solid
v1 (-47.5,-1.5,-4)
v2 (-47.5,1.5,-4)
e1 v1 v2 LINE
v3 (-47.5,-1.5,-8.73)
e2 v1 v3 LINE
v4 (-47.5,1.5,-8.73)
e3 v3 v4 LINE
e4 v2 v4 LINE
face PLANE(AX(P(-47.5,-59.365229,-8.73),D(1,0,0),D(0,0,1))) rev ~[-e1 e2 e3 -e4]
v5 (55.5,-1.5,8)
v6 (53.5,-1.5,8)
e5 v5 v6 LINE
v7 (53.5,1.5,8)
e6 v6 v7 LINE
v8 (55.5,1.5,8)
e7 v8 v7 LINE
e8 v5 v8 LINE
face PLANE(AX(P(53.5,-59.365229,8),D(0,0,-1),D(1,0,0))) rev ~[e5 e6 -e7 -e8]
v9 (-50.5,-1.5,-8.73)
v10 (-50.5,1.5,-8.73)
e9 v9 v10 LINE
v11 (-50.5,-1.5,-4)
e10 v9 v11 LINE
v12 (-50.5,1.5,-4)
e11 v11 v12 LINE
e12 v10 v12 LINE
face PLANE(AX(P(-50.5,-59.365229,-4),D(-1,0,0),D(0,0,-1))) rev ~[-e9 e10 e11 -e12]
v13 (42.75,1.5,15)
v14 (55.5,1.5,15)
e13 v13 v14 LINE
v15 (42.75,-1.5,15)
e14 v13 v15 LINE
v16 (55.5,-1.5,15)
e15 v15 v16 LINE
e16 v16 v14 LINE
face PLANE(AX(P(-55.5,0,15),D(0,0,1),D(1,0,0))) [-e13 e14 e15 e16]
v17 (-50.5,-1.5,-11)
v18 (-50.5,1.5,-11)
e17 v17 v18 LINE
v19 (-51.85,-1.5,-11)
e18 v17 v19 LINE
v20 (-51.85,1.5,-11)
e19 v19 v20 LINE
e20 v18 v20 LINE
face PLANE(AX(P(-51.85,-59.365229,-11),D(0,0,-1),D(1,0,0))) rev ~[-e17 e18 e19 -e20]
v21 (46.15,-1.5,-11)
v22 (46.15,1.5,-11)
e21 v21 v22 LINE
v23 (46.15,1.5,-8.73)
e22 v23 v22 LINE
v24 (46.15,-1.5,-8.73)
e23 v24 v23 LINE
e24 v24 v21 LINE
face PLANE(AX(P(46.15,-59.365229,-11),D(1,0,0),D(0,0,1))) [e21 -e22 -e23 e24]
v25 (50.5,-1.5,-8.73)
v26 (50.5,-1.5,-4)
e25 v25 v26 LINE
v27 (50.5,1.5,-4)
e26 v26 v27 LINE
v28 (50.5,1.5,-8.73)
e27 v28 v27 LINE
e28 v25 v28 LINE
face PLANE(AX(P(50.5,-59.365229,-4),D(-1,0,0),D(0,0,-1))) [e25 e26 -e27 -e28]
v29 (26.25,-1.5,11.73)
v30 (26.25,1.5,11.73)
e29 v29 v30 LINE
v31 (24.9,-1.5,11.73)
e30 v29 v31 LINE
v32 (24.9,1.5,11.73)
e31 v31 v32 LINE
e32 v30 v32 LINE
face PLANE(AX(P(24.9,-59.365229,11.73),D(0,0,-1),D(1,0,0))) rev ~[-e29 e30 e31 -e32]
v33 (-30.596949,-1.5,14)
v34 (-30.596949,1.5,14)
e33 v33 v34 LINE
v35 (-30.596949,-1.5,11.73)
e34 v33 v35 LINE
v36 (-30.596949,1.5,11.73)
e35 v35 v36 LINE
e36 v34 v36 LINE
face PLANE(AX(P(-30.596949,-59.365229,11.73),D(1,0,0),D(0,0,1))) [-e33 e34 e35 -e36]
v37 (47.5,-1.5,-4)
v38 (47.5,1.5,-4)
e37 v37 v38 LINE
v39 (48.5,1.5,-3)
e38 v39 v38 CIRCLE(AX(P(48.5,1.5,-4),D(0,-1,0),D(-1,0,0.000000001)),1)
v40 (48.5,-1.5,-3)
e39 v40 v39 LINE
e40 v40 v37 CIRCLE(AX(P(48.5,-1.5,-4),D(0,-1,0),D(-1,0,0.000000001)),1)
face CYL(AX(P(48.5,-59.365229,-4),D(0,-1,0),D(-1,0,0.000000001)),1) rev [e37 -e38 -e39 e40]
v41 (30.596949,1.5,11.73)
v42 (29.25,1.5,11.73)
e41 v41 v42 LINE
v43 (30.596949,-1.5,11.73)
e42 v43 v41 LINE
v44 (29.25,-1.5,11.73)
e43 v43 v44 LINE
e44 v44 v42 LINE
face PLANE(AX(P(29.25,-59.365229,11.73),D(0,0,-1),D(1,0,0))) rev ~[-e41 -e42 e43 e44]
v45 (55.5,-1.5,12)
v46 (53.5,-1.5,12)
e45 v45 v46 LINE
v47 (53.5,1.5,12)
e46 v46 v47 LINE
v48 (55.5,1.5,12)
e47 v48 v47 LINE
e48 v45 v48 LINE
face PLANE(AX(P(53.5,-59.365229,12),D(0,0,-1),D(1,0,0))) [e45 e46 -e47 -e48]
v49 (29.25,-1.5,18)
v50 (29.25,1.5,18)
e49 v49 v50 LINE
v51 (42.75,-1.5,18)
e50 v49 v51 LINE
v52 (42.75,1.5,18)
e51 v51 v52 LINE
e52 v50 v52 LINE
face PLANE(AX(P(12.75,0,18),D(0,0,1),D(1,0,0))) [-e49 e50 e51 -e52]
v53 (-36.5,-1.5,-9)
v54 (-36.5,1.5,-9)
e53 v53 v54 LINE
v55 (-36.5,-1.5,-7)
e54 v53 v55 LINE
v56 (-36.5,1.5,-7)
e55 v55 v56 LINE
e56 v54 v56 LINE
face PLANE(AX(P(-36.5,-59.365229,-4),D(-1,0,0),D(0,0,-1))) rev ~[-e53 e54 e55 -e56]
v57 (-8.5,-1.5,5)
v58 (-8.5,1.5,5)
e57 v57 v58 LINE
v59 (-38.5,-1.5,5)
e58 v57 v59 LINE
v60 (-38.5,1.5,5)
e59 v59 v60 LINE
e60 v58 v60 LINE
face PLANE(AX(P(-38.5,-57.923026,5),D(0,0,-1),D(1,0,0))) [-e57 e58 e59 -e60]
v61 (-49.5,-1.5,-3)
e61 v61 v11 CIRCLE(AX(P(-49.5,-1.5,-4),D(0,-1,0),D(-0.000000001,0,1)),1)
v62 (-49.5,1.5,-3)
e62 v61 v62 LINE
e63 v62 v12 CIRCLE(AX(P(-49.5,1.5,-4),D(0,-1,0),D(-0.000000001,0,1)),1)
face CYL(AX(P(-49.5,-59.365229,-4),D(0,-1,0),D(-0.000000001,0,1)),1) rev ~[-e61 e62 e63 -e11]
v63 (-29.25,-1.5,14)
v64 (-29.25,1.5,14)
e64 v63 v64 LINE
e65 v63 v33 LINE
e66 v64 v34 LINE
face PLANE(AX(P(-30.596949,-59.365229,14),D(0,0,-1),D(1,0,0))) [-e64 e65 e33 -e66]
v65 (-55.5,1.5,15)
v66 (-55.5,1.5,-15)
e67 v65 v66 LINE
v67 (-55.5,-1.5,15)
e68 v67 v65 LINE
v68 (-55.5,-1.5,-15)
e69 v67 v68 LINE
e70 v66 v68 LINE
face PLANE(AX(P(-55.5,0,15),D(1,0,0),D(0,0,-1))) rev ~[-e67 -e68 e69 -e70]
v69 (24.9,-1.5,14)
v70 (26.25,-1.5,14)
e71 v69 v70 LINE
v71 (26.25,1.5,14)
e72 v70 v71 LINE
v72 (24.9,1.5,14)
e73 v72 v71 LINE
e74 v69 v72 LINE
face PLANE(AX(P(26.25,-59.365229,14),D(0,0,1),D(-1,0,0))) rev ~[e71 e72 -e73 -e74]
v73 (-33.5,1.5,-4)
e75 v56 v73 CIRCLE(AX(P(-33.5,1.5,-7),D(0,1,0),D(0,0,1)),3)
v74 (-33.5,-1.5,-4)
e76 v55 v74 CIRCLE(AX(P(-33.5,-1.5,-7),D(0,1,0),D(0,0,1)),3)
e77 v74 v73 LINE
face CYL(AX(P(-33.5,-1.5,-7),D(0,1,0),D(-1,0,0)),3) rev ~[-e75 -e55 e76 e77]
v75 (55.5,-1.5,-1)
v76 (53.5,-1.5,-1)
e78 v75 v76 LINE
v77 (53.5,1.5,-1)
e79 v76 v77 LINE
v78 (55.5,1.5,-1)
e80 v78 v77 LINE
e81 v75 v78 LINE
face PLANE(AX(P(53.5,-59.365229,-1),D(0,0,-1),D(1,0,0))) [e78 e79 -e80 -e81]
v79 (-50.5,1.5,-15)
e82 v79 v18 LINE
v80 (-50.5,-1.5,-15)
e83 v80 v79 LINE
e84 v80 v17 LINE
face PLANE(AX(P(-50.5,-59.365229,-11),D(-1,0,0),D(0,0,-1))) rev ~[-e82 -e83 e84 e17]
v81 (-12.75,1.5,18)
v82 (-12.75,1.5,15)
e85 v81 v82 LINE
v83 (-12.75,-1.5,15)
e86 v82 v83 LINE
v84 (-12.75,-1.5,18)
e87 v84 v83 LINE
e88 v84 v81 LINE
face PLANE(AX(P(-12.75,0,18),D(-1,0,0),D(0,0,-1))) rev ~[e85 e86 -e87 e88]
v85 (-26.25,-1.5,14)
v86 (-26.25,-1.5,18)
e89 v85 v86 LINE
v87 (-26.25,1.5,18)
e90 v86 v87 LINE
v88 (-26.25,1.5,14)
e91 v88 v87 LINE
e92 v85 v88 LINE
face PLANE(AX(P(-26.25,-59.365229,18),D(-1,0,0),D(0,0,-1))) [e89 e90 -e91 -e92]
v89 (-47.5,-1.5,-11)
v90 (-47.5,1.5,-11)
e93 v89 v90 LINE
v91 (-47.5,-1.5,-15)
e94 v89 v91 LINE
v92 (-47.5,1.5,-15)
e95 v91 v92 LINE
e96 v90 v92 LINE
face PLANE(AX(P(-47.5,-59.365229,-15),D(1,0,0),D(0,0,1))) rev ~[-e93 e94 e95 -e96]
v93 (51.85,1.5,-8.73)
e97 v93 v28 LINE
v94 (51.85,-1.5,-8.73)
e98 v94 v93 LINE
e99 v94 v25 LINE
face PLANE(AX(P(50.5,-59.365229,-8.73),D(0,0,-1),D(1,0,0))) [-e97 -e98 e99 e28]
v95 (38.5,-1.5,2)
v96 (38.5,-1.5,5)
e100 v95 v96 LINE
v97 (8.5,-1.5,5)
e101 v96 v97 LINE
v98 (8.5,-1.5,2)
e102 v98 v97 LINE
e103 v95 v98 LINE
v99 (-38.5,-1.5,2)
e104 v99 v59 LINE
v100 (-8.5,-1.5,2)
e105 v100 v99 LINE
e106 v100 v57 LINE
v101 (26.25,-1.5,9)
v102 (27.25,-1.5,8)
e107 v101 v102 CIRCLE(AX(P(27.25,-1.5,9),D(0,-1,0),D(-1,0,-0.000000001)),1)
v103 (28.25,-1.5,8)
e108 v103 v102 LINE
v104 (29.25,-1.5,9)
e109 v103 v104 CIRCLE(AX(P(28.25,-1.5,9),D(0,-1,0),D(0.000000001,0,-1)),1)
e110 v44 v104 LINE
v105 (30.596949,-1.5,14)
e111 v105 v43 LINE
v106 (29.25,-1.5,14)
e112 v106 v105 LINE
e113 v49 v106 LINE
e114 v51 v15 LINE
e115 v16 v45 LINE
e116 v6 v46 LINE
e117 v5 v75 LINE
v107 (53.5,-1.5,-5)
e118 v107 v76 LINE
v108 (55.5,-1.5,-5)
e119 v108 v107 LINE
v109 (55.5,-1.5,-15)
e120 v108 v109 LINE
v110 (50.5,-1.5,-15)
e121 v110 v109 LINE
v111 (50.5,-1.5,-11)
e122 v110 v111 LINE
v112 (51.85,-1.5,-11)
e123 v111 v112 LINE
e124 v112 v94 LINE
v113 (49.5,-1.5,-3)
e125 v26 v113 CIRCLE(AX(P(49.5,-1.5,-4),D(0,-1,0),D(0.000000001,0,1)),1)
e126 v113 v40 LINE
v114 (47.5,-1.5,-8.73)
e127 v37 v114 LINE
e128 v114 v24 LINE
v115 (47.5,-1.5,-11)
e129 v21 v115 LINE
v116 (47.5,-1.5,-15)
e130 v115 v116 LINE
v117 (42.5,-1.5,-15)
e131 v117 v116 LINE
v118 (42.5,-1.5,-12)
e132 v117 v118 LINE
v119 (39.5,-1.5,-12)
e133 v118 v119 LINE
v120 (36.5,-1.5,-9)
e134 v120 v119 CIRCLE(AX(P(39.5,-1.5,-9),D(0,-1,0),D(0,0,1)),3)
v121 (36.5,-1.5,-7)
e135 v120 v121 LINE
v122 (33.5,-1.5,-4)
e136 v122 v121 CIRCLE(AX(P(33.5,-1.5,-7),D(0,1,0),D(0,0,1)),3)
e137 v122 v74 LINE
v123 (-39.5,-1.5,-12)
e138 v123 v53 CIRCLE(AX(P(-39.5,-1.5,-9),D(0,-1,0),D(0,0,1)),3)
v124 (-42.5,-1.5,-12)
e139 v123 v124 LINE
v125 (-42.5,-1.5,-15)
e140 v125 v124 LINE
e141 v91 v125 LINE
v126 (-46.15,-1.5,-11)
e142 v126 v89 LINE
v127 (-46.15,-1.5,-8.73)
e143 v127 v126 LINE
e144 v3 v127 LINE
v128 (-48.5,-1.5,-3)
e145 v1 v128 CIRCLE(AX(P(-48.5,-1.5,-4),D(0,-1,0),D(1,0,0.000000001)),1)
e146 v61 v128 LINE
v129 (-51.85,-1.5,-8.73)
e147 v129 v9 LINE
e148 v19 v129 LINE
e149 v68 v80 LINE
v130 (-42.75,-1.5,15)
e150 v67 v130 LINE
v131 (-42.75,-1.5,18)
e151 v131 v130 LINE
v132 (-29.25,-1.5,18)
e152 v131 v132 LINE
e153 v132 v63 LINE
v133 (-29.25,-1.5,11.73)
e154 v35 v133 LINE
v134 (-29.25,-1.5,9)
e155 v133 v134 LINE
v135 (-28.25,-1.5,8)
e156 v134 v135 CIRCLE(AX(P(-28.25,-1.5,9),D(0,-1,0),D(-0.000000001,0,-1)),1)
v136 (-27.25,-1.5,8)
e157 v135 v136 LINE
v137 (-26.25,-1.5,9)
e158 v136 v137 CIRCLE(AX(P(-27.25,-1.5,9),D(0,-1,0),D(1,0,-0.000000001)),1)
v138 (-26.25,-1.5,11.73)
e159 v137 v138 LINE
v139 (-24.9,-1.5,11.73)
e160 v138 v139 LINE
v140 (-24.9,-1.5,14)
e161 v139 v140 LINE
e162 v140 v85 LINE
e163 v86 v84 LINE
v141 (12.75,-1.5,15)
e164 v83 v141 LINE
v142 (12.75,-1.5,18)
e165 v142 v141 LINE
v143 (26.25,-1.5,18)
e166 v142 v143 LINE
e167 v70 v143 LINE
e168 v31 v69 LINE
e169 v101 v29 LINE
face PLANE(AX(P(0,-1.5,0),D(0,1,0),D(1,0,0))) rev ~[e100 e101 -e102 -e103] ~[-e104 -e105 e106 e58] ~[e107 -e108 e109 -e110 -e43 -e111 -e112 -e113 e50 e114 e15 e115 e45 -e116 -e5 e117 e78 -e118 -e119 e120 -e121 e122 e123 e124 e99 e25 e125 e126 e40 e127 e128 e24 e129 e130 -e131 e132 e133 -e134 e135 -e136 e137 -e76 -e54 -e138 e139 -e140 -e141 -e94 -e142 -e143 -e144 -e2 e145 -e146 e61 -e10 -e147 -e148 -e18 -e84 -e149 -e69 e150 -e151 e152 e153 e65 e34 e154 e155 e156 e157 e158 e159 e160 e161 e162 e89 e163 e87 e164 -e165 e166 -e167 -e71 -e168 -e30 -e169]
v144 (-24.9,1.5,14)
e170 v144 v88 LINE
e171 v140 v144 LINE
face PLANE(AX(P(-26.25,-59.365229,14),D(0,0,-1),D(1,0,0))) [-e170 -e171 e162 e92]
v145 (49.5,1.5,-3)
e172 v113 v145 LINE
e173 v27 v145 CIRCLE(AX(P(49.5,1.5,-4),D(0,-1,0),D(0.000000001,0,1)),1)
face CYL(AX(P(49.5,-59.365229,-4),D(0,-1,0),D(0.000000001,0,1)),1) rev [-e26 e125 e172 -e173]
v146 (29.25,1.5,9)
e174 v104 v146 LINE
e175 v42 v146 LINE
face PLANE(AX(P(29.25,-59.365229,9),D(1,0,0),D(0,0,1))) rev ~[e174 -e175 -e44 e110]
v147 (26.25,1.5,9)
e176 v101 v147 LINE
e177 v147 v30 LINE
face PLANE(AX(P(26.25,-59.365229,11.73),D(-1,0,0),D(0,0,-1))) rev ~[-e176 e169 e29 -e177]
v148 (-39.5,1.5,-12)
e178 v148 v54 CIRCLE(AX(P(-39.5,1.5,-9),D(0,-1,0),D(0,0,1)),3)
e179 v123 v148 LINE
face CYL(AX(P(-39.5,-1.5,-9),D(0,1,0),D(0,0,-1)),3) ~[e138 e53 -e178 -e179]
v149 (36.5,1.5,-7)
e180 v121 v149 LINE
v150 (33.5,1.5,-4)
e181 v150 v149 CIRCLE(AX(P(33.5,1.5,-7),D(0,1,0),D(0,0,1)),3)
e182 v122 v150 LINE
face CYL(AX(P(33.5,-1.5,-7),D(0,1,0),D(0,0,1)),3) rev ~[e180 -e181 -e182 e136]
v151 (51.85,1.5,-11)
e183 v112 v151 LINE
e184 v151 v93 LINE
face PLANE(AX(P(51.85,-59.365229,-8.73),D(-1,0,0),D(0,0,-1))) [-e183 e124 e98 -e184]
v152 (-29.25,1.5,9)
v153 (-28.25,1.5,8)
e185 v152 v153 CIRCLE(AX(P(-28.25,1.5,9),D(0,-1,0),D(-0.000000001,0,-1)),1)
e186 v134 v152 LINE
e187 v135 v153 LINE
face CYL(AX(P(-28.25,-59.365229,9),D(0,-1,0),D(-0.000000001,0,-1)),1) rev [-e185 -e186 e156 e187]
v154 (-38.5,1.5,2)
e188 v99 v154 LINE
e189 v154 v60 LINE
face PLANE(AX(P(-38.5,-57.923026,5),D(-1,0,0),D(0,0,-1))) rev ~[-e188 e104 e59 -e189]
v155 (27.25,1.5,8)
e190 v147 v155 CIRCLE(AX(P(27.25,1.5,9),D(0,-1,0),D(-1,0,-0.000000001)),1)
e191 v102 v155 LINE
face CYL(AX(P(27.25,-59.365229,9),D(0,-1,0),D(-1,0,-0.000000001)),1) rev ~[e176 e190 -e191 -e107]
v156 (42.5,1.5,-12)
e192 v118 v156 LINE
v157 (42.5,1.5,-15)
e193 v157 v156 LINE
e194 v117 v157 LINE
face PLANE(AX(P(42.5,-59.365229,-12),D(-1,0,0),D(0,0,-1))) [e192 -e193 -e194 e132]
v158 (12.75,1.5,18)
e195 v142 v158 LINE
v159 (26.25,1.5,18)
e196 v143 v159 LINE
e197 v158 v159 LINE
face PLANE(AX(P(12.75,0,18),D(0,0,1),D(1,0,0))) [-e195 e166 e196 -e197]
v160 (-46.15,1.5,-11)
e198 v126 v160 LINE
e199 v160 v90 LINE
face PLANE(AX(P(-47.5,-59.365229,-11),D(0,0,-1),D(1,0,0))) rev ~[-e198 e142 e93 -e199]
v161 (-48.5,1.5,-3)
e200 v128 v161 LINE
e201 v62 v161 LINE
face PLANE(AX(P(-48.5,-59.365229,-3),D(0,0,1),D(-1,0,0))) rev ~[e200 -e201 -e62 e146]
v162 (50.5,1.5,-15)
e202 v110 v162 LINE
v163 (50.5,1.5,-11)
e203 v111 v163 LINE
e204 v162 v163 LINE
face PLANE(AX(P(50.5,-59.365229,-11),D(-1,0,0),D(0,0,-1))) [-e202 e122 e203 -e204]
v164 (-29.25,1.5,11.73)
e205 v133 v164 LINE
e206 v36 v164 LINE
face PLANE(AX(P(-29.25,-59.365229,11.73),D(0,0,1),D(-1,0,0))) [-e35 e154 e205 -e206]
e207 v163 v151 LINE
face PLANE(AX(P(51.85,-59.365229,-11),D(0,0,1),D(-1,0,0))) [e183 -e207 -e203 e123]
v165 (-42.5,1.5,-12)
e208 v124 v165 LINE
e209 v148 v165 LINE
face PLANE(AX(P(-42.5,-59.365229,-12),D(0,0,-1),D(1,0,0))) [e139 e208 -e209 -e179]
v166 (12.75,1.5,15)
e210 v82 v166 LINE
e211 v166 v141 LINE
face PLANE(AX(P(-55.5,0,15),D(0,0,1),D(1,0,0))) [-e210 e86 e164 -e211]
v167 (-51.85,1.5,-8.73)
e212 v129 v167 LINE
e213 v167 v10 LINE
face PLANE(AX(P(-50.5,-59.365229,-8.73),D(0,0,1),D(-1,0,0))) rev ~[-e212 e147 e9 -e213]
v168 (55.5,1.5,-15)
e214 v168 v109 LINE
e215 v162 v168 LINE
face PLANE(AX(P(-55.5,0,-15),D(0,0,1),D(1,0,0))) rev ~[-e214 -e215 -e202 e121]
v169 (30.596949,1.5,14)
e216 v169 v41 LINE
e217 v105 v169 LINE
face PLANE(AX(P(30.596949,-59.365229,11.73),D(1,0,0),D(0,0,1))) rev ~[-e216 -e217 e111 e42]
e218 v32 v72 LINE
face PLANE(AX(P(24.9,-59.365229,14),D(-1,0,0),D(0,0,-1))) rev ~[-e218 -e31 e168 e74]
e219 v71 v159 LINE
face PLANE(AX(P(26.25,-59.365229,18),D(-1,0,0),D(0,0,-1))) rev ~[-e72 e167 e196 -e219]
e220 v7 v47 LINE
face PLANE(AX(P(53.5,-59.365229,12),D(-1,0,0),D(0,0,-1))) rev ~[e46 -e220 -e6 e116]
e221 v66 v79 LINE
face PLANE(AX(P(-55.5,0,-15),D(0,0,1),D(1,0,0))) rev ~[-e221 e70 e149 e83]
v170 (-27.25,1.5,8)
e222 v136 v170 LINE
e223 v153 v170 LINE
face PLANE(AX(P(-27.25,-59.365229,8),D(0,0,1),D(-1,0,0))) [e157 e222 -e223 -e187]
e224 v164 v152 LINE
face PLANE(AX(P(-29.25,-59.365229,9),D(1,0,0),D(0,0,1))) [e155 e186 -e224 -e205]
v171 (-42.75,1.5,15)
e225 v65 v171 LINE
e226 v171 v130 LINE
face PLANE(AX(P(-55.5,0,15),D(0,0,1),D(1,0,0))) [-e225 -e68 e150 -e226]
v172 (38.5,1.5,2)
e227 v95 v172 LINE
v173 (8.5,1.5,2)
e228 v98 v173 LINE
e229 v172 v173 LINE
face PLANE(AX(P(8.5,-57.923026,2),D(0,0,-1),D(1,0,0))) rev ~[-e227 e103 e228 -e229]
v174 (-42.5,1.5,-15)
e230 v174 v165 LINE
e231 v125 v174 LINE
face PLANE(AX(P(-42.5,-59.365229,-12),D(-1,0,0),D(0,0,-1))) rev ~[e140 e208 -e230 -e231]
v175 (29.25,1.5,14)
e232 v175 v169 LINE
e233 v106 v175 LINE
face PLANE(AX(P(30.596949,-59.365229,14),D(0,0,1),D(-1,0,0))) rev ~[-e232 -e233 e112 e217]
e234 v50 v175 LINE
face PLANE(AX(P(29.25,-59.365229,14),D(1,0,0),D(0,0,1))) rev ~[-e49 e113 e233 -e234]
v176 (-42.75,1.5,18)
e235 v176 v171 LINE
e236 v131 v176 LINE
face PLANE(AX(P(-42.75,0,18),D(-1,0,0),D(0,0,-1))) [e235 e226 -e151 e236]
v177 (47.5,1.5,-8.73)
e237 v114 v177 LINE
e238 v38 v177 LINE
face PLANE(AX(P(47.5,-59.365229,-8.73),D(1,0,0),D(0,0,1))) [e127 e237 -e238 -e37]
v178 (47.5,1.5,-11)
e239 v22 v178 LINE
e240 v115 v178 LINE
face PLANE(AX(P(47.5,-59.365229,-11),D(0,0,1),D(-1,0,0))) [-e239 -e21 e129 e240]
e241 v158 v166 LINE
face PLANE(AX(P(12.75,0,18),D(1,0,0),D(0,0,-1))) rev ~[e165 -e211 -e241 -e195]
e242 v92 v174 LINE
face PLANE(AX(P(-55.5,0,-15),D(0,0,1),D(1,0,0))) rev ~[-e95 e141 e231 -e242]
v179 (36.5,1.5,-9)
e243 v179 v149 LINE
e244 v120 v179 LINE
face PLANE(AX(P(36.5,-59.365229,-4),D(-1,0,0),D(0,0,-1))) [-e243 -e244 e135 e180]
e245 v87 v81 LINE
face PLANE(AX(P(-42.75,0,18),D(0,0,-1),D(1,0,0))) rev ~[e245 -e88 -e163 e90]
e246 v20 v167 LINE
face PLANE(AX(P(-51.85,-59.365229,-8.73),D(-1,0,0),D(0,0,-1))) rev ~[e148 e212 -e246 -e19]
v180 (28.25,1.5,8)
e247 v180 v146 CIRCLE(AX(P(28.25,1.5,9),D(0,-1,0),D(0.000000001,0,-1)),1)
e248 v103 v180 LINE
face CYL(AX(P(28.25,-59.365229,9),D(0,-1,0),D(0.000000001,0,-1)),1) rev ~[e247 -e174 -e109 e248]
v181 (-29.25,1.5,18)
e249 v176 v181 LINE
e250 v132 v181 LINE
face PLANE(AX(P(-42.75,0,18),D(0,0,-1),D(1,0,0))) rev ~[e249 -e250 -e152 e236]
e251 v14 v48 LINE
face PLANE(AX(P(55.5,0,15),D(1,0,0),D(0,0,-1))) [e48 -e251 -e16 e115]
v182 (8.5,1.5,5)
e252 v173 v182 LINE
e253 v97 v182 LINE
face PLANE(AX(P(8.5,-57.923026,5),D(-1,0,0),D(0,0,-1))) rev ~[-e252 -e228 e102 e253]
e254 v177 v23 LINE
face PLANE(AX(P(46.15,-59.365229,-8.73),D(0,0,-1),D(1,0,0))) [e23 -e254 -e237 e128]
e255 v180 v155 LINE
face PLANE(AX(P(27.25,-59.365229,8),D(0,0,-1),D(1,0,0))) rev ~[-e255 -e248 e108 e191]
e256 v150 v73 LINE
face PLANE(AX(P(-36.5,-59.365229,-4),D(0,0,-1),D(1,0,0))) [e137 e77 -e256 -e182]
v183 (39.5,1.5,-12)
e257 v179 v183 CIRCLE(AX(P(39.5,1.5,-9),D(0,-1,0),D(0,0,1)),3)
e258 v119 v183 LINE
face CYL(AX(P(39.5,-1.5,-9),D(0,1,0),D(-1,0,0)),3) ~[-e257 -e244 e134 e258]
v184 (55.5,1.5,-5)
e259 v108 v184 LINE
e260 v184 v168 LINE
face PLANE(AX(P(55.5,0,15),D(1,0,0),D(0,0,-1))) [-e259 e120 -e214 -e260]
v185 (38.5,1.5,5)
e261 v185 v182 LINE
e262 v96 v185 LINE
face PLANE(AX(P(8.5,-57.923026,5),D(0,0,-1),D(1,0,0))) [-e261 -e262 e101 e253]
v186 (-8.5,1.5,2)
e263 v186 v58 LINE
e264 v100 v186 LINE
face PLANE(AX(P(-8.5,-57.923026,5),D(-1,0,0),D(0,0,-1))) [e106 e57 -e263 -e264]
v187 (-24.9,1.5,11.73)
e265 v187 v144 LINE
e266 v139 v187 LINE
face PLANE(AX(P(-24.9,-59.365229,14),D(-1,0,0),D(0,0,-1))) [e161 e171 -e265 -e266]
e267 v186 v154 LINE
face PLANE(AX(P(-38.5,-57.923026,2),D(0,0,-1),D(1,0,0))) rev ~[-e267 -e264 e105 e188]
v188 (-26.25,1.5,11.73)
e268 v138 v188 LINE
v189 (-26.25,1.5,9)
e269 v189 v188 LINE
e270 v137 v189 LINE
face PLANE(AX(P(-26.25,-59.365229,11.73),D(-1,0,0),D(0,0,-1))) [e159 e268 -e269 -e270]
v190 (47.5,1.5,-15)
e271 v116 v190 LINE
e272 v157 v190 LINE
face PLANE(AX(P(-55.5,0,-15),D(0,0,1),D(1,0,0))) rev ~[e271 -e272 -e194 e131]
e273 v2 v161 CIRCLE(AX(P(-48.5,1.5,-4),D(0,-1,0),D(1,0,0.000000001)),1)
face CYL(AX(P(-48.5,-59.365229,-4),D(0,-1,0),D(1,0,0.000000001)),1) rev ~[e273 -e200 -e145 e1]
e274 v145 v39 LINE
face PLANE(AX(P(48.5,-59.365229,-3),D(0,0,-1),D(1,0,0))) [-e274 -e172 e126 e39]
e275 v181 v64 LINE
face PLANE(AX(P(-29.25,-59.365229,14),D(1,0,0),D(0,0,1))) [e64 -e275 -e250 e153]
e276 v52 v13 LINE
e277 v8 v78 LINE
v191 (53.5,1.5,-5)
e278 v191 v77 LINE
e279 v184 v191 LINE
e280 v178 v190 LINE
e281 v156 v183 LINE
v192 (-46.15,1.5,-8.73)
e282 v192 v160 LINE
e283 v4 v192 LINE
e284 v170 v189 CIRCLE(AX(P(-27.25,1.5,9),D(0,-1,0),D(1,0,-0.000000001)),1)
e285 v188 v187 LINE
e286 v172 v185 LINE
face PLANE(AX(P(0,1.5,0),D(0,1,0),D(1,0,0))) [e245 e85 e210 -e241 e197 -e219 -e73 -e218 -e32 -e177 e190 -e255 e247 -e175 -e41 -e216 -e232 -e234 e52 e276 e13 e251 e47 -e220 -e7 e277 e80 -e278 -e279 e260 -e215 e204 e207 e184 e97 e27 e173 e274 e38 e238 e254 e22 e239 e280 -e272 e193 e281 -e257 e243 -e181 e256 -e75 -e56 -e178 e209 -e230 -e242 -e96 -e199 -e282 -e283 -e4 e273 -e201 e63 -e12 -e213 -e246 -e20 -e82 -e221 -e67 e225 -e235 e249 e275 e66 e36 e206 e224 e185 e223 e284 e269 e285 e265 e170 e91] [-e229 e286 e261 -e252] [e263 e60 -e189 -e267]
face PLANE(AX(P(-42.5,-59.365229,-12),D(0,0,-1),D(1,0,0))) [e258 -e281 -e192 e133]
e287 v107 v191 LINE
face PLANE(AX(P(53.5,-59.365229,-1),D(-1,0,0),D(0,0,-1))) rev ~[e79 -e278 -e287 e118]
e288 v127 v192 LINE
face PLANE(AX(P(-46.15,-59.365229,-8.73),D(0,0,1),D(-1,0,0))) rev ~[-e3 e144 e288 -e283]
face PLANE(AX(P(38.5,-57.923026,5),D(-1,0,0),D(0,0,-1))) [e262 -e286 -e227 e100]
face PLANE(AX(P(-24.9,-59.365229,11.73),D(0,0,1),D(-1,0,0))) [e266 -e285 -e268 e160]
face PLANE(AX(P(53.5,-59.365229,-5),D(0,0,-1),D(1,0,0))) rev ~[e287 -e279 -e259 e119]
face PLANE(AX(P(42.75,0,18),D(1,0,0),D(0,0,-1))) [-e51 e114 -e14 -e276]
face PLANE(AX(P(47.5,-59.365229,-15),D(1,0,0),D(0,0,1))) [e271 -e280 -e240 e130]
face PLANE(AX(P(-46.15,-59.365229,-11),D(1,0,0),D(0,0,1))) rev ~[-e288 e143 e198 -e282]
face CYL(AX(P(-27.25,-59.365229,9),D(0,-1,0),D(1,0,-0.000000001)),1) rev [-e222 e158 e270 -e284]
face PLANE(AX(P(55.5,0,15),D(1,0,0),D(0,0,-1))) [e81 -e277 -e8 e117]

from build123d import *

# Parameters (mm, degrees)
SKETCH1_W               = 111
SKETCH1_H               = 30
BOSS_EXTRUDE1_DEPTH     = 1.5
SKETCH2_W               = 30
SKETCH2_H               = 3
BOSS_EXTRUDE2_DEPTH     = 1.5
CUT_EXTRUDE2_DEPTH      = 59.365229375
CUT_EXTRUDE2_DEPTH_BACK = 59.365229375
CUT_EXTRUDE3_DEPTH      = 59.365229375
CUT_EXTRUDE3_DEPTH_BACK = 59.365229375
SKETCH6_W               = 2
SKETCH6_H               = 4
CUT_EXTRUDE4_DEPTH      = 59.423026282
CUT_EXTRUDE4_DEPTH_BACK = 59.423026282
SKETCH7_W               = 30
SKETCH7_H               = 3
CUT_EXTRUDE5_DEPTH      = 59.365229375
CUT_EXTRUDE5_DEPTH_BACK = 59.365229375
SKETCH8_W               = 85
SKETCH8_H               = 3
CUT_EXTRUDE7_DEPTH      = 59.365229375
CUT_EXTRUDE7_DEPTH_BACK = 59.365229375
SKETCH10_W              = 73
SKETCH10_H              = 8
FILLET1_R               = 3
CUT_EXTRUDE6_DEPTH      = 59.365229375
CUT_EXTRUDE6_DEPTH_BACK = 59.365229375


with BuildPart() as part:
    # Sketch1 → Boss-Extrude1 (new, symmetric)
    with BuildSketch(Plane(origin=(0, 0, 0), x_dir=(1, 0, 0), z_dir=(0, 1, 0))):
        Rectangle(SKETCH1_W, SKETCH1_H)
    extrude(amount=BOSS_EXTRUDE1_DEPTH, both=True)

    # Sketch2 → Boss-Extrude2 (add, symmetric)
    with BuildSketch(Plane(origin=(0, 0, 0), x_dir=(1, 0, 0), z_dir=(0, 1, 0))):
        with Locations((-27.75, -16.5)):
            Rectangle(SKETCH2_W, SKETCH2_H)
        with Locations((27.75, -16.5)):
            Rectangle(SKETCH2_W, SKETCH2_H)
    extrude(amount=BOSS_EXTRUDE2_DEPTH, both=True)

    # Sketch5 → Cut-Extrude2 (cut, two sides: drawn at the far end of the back side and taken through both)
    with BuildSketch(Plane(origin=(0, 0, 0), x_dir=(1, 0, 0), z_dir=(0, 1, 0)).offset(-CUT_EXTRUDE2_DEPTH_BACK)):
        with BuildLine():
            Line((-29.25, -18), (-26.25, -18))
            Line((-26.25, -18), (-26.25, -14))
            Line((-26.25, -14), (-24.9, -14))
            Line((-24.9, -14), (-24.9, -11.73))
            Line((-24.9, -11.73), (-26.25, -11.73))
            Line((-26.25, -11.73), (-26.25, -9))
            ThreePointArc((-26.25, -9), (-26.542893219, -8.292893219), (-27.25, -8))
            Line((-27.25, -8), (-28.25, -8))
            ThreePointArc((-28.25, -8), (-28.957106781, -8.292893219), (-29.25, -9))
            Line((-29.25, -9), (-29.25, -11.73))
            Line((-29.25, -11.73), (-30.596948556, -11.73))
            Line((-30.596948556, -11.73), (-30.596948556, -14))
            Line((-30.596948556, -14), (-29.25, -14))
            Line((-29.25, -14), (-29.25, -18))
        make_face()
        with BuildLine():
            Line((26.25, -14), (24.9, -14))
            Line((24.9, -14), (24.9, -11.73))
            Line((24.9, -11.73), (26.25, -11.73))
            Line((26.25, -11.73), (26.25, -9))
            ThreePointArc((26.25, -9), (26.542893219, -8.292893219), (27.25, -8))
            Line((27.25, -8), (28.25, -8))
            ThreePointArc((28.25, -8), (28.957106781, -8.292893219), (29.25, -9))
            Line((29.25, -9), (29.25, -11.73))
            Line((29.25, -11.73), (30.596948556, -11.73))
            Line((30.596948556, -11.73), (30.596948556, -14))
            Line((30.596948556, -14), (29.25, -14))
            Line((29.25, -14), (29.25, -18))
            Line((29.25, -18), (26.25, -18))
            Line((26.25, -18), (26.25, -14))
        make_face()
    extrude(amount=CUT_EXTRUDE2_DEPTH + CUT_EXTRUDE2_DEPTH_BACK, mode=Mode.SUBTRACT)

    # Sketch6 → Cut-Extrude3 (cut, two sides: drawn at the far end of the back side and taken through both)
    with BuildSketch(Plane(origin=(0, 0, 0), x_dir=(1, 0, 0), z_dir=(0, 1, 0)).offset(-CUT_EXTRUDE3_DEPTH_BACK)):
        with Locations((54.5, -10)):
            Rectangle(SKETCH6_W, SKETCH6_H)
        with Locations((54.5, 3)):
            Rectangle(SKETCH6_W, SKETCH6_H)
    extrude(amount=CUT_EXTRUDE3_DEPTH + CUT_EXTRUDE3_DEPTH_BACK, mode=Mode.SUBTRACT)

    # Sketch7 → Cut-Extrude4 (cut, two sides: drawn at the far end of the back side and taken through both)
    with BuildSketch(Plane(origin=(0, 1.5, 0), x_dir=(1, 0, 0), z_dir=(0, 1, 0)).offset(-CUT_EXTRUDE4_DEPTH_BACK)):
        with Locations((-23.5, -3.5)):
            Rectangle(SKETCH7_W, SKETCH7_H)
        with Locations((23.5, -3.5)):
            Rectangle(SKETCH7_W, SKETCH7_H)
    extrude(amount=CUT_EXTRUDE4_DEPTH + CUT_EXTRUDE4_DEPTH_BACK, mode=Mode.SUBTRACT)

    # Sketch8 → Cut-Extrude5 (cut, two sides: drawn at the far end of the back side and taken through both)
    with BuildSketch(Plane(origin=(0, 0, 0), x_dir=(1, 0, 0), z_dir=(0, 1, 0)).offset(-CUT_EXTRUDE5_DEPTH_BACK)):
        with Locations((0, 13.5)):
            Rectangle(SKETCH8_W, SKETCH8_H)
    extrude(amount=CUT_EXTRUDE5_DEPTH + CUT_EXTRUDE5_DEPTH_BACK, mode=Mode.SUBTRACT)

    # Sketch10 → Cut-Extrude7 (cut, two sides: drawn at the far end of the back side and taken through both)
    with BuildSketch(Plane(origin=(0, 0, 0), x_dir=(1, 0, 0), z_dir=(0, 1, 0)).offset(-CUT_EXTRUDE7_DEPTH_BACK)):
        with Locations((0, 8)):
            Rectangle(SKETCH10_W, SKETCH10_H)
    extrude(amount=CUT_EXTRUDE7_DEPTH + CUT_EXTRUDE7_DEPTH_BACK, mode=Mode.SUBTRACT)

    # Fillet1
    fillet1_edges = [part.edges().sort_by_distance(p)[0] for p in [
        (-36.5, 0, -4),
        (-36.5, 0, -12),
        (36.5, 0, -12),
        (36.5, 0, -4),
    ]]
    fillet(fillet1_edges, radius=FILLET1_R)

    # Sketch9 → Cut-Extrude6 (cut, two sides: drawn at the far end of the back side and taken through both)
    with BuildSketch(Plane(origin=(0, 0, 0), x_dir=(1, 0, 0), z_dir=(0, 1, 0)).offset(-CUT_EXTRUDE6_DEPTH_BACK)):
        with BuildLine():
            Line((-50.5, 15), (-47.5, 15))
            Line((-47.5, 15), (-47.5, 11))
            Line((-47.5, 11), (-46.15, 11))
            Line((-46.15, 11), (-46.15, 8.73))
            Line((-46.15, 8.73), (-47.5, 8.73))
            Line((-47.5, 8.73), (-47.5, 4))
            ThreePointArc((-47.5, 4), (-47.792893219, 3.292893219), (-48.5, 3))
            Line((-48.5, 3), (-49.5, 3))
            ThreePointArc((-49.5, 3), (-50.207106781, 3.292893219), (-50.5, 4))
            Line((-50.5, 4), (-50.5, 8.73))
            Line((-50.5, 8.73), (-51.85, 8.73))
            Line((-51.85, 8.73), (-51.85, 11))
            Line((-51.85, 11), (-50.5, 11))
            Line((-50.5, 11), (-50.5, 15))
        make_face()
        with BuildLine():
            Line((47.5, 8.73), (47.5, 4))
            ThreePointArc((47.5, 4), (47.792893219, 3.292893219), (48.5, 3))
            Line((48.5, 3), (49.5, 3))
            ThreePointArc((49.5, 3), (50.207106781, 3.292893219), (50.5, 4))
            Line((50.5, 4), (50.5, 8.73))
            Line((50.5, 8.73), (51.85, 8.73))
            Line((51.85, 8.73), (51.85, 11))
            Line((51.85, 11), (50.5, 11))
            Line((50.5, 11), (50.5, 15))
            Line((50.5, 15), (47.5, 15))
            Line((47.5, 15), (47.5, 11))
            Line((47.5, 11), (46.15, 11))
            Line((46.15, 11), (46.15, 8.73))
            Line((46.15, 8.73), (47.5, 8.73))
        make_face()
    extrude(amount=CUT_EXTRUDE6_DEPTH + CUT_EXTRUDE6_DEPTH_BACK, mode=Mode.SUBTRACT)


solid = part.part
